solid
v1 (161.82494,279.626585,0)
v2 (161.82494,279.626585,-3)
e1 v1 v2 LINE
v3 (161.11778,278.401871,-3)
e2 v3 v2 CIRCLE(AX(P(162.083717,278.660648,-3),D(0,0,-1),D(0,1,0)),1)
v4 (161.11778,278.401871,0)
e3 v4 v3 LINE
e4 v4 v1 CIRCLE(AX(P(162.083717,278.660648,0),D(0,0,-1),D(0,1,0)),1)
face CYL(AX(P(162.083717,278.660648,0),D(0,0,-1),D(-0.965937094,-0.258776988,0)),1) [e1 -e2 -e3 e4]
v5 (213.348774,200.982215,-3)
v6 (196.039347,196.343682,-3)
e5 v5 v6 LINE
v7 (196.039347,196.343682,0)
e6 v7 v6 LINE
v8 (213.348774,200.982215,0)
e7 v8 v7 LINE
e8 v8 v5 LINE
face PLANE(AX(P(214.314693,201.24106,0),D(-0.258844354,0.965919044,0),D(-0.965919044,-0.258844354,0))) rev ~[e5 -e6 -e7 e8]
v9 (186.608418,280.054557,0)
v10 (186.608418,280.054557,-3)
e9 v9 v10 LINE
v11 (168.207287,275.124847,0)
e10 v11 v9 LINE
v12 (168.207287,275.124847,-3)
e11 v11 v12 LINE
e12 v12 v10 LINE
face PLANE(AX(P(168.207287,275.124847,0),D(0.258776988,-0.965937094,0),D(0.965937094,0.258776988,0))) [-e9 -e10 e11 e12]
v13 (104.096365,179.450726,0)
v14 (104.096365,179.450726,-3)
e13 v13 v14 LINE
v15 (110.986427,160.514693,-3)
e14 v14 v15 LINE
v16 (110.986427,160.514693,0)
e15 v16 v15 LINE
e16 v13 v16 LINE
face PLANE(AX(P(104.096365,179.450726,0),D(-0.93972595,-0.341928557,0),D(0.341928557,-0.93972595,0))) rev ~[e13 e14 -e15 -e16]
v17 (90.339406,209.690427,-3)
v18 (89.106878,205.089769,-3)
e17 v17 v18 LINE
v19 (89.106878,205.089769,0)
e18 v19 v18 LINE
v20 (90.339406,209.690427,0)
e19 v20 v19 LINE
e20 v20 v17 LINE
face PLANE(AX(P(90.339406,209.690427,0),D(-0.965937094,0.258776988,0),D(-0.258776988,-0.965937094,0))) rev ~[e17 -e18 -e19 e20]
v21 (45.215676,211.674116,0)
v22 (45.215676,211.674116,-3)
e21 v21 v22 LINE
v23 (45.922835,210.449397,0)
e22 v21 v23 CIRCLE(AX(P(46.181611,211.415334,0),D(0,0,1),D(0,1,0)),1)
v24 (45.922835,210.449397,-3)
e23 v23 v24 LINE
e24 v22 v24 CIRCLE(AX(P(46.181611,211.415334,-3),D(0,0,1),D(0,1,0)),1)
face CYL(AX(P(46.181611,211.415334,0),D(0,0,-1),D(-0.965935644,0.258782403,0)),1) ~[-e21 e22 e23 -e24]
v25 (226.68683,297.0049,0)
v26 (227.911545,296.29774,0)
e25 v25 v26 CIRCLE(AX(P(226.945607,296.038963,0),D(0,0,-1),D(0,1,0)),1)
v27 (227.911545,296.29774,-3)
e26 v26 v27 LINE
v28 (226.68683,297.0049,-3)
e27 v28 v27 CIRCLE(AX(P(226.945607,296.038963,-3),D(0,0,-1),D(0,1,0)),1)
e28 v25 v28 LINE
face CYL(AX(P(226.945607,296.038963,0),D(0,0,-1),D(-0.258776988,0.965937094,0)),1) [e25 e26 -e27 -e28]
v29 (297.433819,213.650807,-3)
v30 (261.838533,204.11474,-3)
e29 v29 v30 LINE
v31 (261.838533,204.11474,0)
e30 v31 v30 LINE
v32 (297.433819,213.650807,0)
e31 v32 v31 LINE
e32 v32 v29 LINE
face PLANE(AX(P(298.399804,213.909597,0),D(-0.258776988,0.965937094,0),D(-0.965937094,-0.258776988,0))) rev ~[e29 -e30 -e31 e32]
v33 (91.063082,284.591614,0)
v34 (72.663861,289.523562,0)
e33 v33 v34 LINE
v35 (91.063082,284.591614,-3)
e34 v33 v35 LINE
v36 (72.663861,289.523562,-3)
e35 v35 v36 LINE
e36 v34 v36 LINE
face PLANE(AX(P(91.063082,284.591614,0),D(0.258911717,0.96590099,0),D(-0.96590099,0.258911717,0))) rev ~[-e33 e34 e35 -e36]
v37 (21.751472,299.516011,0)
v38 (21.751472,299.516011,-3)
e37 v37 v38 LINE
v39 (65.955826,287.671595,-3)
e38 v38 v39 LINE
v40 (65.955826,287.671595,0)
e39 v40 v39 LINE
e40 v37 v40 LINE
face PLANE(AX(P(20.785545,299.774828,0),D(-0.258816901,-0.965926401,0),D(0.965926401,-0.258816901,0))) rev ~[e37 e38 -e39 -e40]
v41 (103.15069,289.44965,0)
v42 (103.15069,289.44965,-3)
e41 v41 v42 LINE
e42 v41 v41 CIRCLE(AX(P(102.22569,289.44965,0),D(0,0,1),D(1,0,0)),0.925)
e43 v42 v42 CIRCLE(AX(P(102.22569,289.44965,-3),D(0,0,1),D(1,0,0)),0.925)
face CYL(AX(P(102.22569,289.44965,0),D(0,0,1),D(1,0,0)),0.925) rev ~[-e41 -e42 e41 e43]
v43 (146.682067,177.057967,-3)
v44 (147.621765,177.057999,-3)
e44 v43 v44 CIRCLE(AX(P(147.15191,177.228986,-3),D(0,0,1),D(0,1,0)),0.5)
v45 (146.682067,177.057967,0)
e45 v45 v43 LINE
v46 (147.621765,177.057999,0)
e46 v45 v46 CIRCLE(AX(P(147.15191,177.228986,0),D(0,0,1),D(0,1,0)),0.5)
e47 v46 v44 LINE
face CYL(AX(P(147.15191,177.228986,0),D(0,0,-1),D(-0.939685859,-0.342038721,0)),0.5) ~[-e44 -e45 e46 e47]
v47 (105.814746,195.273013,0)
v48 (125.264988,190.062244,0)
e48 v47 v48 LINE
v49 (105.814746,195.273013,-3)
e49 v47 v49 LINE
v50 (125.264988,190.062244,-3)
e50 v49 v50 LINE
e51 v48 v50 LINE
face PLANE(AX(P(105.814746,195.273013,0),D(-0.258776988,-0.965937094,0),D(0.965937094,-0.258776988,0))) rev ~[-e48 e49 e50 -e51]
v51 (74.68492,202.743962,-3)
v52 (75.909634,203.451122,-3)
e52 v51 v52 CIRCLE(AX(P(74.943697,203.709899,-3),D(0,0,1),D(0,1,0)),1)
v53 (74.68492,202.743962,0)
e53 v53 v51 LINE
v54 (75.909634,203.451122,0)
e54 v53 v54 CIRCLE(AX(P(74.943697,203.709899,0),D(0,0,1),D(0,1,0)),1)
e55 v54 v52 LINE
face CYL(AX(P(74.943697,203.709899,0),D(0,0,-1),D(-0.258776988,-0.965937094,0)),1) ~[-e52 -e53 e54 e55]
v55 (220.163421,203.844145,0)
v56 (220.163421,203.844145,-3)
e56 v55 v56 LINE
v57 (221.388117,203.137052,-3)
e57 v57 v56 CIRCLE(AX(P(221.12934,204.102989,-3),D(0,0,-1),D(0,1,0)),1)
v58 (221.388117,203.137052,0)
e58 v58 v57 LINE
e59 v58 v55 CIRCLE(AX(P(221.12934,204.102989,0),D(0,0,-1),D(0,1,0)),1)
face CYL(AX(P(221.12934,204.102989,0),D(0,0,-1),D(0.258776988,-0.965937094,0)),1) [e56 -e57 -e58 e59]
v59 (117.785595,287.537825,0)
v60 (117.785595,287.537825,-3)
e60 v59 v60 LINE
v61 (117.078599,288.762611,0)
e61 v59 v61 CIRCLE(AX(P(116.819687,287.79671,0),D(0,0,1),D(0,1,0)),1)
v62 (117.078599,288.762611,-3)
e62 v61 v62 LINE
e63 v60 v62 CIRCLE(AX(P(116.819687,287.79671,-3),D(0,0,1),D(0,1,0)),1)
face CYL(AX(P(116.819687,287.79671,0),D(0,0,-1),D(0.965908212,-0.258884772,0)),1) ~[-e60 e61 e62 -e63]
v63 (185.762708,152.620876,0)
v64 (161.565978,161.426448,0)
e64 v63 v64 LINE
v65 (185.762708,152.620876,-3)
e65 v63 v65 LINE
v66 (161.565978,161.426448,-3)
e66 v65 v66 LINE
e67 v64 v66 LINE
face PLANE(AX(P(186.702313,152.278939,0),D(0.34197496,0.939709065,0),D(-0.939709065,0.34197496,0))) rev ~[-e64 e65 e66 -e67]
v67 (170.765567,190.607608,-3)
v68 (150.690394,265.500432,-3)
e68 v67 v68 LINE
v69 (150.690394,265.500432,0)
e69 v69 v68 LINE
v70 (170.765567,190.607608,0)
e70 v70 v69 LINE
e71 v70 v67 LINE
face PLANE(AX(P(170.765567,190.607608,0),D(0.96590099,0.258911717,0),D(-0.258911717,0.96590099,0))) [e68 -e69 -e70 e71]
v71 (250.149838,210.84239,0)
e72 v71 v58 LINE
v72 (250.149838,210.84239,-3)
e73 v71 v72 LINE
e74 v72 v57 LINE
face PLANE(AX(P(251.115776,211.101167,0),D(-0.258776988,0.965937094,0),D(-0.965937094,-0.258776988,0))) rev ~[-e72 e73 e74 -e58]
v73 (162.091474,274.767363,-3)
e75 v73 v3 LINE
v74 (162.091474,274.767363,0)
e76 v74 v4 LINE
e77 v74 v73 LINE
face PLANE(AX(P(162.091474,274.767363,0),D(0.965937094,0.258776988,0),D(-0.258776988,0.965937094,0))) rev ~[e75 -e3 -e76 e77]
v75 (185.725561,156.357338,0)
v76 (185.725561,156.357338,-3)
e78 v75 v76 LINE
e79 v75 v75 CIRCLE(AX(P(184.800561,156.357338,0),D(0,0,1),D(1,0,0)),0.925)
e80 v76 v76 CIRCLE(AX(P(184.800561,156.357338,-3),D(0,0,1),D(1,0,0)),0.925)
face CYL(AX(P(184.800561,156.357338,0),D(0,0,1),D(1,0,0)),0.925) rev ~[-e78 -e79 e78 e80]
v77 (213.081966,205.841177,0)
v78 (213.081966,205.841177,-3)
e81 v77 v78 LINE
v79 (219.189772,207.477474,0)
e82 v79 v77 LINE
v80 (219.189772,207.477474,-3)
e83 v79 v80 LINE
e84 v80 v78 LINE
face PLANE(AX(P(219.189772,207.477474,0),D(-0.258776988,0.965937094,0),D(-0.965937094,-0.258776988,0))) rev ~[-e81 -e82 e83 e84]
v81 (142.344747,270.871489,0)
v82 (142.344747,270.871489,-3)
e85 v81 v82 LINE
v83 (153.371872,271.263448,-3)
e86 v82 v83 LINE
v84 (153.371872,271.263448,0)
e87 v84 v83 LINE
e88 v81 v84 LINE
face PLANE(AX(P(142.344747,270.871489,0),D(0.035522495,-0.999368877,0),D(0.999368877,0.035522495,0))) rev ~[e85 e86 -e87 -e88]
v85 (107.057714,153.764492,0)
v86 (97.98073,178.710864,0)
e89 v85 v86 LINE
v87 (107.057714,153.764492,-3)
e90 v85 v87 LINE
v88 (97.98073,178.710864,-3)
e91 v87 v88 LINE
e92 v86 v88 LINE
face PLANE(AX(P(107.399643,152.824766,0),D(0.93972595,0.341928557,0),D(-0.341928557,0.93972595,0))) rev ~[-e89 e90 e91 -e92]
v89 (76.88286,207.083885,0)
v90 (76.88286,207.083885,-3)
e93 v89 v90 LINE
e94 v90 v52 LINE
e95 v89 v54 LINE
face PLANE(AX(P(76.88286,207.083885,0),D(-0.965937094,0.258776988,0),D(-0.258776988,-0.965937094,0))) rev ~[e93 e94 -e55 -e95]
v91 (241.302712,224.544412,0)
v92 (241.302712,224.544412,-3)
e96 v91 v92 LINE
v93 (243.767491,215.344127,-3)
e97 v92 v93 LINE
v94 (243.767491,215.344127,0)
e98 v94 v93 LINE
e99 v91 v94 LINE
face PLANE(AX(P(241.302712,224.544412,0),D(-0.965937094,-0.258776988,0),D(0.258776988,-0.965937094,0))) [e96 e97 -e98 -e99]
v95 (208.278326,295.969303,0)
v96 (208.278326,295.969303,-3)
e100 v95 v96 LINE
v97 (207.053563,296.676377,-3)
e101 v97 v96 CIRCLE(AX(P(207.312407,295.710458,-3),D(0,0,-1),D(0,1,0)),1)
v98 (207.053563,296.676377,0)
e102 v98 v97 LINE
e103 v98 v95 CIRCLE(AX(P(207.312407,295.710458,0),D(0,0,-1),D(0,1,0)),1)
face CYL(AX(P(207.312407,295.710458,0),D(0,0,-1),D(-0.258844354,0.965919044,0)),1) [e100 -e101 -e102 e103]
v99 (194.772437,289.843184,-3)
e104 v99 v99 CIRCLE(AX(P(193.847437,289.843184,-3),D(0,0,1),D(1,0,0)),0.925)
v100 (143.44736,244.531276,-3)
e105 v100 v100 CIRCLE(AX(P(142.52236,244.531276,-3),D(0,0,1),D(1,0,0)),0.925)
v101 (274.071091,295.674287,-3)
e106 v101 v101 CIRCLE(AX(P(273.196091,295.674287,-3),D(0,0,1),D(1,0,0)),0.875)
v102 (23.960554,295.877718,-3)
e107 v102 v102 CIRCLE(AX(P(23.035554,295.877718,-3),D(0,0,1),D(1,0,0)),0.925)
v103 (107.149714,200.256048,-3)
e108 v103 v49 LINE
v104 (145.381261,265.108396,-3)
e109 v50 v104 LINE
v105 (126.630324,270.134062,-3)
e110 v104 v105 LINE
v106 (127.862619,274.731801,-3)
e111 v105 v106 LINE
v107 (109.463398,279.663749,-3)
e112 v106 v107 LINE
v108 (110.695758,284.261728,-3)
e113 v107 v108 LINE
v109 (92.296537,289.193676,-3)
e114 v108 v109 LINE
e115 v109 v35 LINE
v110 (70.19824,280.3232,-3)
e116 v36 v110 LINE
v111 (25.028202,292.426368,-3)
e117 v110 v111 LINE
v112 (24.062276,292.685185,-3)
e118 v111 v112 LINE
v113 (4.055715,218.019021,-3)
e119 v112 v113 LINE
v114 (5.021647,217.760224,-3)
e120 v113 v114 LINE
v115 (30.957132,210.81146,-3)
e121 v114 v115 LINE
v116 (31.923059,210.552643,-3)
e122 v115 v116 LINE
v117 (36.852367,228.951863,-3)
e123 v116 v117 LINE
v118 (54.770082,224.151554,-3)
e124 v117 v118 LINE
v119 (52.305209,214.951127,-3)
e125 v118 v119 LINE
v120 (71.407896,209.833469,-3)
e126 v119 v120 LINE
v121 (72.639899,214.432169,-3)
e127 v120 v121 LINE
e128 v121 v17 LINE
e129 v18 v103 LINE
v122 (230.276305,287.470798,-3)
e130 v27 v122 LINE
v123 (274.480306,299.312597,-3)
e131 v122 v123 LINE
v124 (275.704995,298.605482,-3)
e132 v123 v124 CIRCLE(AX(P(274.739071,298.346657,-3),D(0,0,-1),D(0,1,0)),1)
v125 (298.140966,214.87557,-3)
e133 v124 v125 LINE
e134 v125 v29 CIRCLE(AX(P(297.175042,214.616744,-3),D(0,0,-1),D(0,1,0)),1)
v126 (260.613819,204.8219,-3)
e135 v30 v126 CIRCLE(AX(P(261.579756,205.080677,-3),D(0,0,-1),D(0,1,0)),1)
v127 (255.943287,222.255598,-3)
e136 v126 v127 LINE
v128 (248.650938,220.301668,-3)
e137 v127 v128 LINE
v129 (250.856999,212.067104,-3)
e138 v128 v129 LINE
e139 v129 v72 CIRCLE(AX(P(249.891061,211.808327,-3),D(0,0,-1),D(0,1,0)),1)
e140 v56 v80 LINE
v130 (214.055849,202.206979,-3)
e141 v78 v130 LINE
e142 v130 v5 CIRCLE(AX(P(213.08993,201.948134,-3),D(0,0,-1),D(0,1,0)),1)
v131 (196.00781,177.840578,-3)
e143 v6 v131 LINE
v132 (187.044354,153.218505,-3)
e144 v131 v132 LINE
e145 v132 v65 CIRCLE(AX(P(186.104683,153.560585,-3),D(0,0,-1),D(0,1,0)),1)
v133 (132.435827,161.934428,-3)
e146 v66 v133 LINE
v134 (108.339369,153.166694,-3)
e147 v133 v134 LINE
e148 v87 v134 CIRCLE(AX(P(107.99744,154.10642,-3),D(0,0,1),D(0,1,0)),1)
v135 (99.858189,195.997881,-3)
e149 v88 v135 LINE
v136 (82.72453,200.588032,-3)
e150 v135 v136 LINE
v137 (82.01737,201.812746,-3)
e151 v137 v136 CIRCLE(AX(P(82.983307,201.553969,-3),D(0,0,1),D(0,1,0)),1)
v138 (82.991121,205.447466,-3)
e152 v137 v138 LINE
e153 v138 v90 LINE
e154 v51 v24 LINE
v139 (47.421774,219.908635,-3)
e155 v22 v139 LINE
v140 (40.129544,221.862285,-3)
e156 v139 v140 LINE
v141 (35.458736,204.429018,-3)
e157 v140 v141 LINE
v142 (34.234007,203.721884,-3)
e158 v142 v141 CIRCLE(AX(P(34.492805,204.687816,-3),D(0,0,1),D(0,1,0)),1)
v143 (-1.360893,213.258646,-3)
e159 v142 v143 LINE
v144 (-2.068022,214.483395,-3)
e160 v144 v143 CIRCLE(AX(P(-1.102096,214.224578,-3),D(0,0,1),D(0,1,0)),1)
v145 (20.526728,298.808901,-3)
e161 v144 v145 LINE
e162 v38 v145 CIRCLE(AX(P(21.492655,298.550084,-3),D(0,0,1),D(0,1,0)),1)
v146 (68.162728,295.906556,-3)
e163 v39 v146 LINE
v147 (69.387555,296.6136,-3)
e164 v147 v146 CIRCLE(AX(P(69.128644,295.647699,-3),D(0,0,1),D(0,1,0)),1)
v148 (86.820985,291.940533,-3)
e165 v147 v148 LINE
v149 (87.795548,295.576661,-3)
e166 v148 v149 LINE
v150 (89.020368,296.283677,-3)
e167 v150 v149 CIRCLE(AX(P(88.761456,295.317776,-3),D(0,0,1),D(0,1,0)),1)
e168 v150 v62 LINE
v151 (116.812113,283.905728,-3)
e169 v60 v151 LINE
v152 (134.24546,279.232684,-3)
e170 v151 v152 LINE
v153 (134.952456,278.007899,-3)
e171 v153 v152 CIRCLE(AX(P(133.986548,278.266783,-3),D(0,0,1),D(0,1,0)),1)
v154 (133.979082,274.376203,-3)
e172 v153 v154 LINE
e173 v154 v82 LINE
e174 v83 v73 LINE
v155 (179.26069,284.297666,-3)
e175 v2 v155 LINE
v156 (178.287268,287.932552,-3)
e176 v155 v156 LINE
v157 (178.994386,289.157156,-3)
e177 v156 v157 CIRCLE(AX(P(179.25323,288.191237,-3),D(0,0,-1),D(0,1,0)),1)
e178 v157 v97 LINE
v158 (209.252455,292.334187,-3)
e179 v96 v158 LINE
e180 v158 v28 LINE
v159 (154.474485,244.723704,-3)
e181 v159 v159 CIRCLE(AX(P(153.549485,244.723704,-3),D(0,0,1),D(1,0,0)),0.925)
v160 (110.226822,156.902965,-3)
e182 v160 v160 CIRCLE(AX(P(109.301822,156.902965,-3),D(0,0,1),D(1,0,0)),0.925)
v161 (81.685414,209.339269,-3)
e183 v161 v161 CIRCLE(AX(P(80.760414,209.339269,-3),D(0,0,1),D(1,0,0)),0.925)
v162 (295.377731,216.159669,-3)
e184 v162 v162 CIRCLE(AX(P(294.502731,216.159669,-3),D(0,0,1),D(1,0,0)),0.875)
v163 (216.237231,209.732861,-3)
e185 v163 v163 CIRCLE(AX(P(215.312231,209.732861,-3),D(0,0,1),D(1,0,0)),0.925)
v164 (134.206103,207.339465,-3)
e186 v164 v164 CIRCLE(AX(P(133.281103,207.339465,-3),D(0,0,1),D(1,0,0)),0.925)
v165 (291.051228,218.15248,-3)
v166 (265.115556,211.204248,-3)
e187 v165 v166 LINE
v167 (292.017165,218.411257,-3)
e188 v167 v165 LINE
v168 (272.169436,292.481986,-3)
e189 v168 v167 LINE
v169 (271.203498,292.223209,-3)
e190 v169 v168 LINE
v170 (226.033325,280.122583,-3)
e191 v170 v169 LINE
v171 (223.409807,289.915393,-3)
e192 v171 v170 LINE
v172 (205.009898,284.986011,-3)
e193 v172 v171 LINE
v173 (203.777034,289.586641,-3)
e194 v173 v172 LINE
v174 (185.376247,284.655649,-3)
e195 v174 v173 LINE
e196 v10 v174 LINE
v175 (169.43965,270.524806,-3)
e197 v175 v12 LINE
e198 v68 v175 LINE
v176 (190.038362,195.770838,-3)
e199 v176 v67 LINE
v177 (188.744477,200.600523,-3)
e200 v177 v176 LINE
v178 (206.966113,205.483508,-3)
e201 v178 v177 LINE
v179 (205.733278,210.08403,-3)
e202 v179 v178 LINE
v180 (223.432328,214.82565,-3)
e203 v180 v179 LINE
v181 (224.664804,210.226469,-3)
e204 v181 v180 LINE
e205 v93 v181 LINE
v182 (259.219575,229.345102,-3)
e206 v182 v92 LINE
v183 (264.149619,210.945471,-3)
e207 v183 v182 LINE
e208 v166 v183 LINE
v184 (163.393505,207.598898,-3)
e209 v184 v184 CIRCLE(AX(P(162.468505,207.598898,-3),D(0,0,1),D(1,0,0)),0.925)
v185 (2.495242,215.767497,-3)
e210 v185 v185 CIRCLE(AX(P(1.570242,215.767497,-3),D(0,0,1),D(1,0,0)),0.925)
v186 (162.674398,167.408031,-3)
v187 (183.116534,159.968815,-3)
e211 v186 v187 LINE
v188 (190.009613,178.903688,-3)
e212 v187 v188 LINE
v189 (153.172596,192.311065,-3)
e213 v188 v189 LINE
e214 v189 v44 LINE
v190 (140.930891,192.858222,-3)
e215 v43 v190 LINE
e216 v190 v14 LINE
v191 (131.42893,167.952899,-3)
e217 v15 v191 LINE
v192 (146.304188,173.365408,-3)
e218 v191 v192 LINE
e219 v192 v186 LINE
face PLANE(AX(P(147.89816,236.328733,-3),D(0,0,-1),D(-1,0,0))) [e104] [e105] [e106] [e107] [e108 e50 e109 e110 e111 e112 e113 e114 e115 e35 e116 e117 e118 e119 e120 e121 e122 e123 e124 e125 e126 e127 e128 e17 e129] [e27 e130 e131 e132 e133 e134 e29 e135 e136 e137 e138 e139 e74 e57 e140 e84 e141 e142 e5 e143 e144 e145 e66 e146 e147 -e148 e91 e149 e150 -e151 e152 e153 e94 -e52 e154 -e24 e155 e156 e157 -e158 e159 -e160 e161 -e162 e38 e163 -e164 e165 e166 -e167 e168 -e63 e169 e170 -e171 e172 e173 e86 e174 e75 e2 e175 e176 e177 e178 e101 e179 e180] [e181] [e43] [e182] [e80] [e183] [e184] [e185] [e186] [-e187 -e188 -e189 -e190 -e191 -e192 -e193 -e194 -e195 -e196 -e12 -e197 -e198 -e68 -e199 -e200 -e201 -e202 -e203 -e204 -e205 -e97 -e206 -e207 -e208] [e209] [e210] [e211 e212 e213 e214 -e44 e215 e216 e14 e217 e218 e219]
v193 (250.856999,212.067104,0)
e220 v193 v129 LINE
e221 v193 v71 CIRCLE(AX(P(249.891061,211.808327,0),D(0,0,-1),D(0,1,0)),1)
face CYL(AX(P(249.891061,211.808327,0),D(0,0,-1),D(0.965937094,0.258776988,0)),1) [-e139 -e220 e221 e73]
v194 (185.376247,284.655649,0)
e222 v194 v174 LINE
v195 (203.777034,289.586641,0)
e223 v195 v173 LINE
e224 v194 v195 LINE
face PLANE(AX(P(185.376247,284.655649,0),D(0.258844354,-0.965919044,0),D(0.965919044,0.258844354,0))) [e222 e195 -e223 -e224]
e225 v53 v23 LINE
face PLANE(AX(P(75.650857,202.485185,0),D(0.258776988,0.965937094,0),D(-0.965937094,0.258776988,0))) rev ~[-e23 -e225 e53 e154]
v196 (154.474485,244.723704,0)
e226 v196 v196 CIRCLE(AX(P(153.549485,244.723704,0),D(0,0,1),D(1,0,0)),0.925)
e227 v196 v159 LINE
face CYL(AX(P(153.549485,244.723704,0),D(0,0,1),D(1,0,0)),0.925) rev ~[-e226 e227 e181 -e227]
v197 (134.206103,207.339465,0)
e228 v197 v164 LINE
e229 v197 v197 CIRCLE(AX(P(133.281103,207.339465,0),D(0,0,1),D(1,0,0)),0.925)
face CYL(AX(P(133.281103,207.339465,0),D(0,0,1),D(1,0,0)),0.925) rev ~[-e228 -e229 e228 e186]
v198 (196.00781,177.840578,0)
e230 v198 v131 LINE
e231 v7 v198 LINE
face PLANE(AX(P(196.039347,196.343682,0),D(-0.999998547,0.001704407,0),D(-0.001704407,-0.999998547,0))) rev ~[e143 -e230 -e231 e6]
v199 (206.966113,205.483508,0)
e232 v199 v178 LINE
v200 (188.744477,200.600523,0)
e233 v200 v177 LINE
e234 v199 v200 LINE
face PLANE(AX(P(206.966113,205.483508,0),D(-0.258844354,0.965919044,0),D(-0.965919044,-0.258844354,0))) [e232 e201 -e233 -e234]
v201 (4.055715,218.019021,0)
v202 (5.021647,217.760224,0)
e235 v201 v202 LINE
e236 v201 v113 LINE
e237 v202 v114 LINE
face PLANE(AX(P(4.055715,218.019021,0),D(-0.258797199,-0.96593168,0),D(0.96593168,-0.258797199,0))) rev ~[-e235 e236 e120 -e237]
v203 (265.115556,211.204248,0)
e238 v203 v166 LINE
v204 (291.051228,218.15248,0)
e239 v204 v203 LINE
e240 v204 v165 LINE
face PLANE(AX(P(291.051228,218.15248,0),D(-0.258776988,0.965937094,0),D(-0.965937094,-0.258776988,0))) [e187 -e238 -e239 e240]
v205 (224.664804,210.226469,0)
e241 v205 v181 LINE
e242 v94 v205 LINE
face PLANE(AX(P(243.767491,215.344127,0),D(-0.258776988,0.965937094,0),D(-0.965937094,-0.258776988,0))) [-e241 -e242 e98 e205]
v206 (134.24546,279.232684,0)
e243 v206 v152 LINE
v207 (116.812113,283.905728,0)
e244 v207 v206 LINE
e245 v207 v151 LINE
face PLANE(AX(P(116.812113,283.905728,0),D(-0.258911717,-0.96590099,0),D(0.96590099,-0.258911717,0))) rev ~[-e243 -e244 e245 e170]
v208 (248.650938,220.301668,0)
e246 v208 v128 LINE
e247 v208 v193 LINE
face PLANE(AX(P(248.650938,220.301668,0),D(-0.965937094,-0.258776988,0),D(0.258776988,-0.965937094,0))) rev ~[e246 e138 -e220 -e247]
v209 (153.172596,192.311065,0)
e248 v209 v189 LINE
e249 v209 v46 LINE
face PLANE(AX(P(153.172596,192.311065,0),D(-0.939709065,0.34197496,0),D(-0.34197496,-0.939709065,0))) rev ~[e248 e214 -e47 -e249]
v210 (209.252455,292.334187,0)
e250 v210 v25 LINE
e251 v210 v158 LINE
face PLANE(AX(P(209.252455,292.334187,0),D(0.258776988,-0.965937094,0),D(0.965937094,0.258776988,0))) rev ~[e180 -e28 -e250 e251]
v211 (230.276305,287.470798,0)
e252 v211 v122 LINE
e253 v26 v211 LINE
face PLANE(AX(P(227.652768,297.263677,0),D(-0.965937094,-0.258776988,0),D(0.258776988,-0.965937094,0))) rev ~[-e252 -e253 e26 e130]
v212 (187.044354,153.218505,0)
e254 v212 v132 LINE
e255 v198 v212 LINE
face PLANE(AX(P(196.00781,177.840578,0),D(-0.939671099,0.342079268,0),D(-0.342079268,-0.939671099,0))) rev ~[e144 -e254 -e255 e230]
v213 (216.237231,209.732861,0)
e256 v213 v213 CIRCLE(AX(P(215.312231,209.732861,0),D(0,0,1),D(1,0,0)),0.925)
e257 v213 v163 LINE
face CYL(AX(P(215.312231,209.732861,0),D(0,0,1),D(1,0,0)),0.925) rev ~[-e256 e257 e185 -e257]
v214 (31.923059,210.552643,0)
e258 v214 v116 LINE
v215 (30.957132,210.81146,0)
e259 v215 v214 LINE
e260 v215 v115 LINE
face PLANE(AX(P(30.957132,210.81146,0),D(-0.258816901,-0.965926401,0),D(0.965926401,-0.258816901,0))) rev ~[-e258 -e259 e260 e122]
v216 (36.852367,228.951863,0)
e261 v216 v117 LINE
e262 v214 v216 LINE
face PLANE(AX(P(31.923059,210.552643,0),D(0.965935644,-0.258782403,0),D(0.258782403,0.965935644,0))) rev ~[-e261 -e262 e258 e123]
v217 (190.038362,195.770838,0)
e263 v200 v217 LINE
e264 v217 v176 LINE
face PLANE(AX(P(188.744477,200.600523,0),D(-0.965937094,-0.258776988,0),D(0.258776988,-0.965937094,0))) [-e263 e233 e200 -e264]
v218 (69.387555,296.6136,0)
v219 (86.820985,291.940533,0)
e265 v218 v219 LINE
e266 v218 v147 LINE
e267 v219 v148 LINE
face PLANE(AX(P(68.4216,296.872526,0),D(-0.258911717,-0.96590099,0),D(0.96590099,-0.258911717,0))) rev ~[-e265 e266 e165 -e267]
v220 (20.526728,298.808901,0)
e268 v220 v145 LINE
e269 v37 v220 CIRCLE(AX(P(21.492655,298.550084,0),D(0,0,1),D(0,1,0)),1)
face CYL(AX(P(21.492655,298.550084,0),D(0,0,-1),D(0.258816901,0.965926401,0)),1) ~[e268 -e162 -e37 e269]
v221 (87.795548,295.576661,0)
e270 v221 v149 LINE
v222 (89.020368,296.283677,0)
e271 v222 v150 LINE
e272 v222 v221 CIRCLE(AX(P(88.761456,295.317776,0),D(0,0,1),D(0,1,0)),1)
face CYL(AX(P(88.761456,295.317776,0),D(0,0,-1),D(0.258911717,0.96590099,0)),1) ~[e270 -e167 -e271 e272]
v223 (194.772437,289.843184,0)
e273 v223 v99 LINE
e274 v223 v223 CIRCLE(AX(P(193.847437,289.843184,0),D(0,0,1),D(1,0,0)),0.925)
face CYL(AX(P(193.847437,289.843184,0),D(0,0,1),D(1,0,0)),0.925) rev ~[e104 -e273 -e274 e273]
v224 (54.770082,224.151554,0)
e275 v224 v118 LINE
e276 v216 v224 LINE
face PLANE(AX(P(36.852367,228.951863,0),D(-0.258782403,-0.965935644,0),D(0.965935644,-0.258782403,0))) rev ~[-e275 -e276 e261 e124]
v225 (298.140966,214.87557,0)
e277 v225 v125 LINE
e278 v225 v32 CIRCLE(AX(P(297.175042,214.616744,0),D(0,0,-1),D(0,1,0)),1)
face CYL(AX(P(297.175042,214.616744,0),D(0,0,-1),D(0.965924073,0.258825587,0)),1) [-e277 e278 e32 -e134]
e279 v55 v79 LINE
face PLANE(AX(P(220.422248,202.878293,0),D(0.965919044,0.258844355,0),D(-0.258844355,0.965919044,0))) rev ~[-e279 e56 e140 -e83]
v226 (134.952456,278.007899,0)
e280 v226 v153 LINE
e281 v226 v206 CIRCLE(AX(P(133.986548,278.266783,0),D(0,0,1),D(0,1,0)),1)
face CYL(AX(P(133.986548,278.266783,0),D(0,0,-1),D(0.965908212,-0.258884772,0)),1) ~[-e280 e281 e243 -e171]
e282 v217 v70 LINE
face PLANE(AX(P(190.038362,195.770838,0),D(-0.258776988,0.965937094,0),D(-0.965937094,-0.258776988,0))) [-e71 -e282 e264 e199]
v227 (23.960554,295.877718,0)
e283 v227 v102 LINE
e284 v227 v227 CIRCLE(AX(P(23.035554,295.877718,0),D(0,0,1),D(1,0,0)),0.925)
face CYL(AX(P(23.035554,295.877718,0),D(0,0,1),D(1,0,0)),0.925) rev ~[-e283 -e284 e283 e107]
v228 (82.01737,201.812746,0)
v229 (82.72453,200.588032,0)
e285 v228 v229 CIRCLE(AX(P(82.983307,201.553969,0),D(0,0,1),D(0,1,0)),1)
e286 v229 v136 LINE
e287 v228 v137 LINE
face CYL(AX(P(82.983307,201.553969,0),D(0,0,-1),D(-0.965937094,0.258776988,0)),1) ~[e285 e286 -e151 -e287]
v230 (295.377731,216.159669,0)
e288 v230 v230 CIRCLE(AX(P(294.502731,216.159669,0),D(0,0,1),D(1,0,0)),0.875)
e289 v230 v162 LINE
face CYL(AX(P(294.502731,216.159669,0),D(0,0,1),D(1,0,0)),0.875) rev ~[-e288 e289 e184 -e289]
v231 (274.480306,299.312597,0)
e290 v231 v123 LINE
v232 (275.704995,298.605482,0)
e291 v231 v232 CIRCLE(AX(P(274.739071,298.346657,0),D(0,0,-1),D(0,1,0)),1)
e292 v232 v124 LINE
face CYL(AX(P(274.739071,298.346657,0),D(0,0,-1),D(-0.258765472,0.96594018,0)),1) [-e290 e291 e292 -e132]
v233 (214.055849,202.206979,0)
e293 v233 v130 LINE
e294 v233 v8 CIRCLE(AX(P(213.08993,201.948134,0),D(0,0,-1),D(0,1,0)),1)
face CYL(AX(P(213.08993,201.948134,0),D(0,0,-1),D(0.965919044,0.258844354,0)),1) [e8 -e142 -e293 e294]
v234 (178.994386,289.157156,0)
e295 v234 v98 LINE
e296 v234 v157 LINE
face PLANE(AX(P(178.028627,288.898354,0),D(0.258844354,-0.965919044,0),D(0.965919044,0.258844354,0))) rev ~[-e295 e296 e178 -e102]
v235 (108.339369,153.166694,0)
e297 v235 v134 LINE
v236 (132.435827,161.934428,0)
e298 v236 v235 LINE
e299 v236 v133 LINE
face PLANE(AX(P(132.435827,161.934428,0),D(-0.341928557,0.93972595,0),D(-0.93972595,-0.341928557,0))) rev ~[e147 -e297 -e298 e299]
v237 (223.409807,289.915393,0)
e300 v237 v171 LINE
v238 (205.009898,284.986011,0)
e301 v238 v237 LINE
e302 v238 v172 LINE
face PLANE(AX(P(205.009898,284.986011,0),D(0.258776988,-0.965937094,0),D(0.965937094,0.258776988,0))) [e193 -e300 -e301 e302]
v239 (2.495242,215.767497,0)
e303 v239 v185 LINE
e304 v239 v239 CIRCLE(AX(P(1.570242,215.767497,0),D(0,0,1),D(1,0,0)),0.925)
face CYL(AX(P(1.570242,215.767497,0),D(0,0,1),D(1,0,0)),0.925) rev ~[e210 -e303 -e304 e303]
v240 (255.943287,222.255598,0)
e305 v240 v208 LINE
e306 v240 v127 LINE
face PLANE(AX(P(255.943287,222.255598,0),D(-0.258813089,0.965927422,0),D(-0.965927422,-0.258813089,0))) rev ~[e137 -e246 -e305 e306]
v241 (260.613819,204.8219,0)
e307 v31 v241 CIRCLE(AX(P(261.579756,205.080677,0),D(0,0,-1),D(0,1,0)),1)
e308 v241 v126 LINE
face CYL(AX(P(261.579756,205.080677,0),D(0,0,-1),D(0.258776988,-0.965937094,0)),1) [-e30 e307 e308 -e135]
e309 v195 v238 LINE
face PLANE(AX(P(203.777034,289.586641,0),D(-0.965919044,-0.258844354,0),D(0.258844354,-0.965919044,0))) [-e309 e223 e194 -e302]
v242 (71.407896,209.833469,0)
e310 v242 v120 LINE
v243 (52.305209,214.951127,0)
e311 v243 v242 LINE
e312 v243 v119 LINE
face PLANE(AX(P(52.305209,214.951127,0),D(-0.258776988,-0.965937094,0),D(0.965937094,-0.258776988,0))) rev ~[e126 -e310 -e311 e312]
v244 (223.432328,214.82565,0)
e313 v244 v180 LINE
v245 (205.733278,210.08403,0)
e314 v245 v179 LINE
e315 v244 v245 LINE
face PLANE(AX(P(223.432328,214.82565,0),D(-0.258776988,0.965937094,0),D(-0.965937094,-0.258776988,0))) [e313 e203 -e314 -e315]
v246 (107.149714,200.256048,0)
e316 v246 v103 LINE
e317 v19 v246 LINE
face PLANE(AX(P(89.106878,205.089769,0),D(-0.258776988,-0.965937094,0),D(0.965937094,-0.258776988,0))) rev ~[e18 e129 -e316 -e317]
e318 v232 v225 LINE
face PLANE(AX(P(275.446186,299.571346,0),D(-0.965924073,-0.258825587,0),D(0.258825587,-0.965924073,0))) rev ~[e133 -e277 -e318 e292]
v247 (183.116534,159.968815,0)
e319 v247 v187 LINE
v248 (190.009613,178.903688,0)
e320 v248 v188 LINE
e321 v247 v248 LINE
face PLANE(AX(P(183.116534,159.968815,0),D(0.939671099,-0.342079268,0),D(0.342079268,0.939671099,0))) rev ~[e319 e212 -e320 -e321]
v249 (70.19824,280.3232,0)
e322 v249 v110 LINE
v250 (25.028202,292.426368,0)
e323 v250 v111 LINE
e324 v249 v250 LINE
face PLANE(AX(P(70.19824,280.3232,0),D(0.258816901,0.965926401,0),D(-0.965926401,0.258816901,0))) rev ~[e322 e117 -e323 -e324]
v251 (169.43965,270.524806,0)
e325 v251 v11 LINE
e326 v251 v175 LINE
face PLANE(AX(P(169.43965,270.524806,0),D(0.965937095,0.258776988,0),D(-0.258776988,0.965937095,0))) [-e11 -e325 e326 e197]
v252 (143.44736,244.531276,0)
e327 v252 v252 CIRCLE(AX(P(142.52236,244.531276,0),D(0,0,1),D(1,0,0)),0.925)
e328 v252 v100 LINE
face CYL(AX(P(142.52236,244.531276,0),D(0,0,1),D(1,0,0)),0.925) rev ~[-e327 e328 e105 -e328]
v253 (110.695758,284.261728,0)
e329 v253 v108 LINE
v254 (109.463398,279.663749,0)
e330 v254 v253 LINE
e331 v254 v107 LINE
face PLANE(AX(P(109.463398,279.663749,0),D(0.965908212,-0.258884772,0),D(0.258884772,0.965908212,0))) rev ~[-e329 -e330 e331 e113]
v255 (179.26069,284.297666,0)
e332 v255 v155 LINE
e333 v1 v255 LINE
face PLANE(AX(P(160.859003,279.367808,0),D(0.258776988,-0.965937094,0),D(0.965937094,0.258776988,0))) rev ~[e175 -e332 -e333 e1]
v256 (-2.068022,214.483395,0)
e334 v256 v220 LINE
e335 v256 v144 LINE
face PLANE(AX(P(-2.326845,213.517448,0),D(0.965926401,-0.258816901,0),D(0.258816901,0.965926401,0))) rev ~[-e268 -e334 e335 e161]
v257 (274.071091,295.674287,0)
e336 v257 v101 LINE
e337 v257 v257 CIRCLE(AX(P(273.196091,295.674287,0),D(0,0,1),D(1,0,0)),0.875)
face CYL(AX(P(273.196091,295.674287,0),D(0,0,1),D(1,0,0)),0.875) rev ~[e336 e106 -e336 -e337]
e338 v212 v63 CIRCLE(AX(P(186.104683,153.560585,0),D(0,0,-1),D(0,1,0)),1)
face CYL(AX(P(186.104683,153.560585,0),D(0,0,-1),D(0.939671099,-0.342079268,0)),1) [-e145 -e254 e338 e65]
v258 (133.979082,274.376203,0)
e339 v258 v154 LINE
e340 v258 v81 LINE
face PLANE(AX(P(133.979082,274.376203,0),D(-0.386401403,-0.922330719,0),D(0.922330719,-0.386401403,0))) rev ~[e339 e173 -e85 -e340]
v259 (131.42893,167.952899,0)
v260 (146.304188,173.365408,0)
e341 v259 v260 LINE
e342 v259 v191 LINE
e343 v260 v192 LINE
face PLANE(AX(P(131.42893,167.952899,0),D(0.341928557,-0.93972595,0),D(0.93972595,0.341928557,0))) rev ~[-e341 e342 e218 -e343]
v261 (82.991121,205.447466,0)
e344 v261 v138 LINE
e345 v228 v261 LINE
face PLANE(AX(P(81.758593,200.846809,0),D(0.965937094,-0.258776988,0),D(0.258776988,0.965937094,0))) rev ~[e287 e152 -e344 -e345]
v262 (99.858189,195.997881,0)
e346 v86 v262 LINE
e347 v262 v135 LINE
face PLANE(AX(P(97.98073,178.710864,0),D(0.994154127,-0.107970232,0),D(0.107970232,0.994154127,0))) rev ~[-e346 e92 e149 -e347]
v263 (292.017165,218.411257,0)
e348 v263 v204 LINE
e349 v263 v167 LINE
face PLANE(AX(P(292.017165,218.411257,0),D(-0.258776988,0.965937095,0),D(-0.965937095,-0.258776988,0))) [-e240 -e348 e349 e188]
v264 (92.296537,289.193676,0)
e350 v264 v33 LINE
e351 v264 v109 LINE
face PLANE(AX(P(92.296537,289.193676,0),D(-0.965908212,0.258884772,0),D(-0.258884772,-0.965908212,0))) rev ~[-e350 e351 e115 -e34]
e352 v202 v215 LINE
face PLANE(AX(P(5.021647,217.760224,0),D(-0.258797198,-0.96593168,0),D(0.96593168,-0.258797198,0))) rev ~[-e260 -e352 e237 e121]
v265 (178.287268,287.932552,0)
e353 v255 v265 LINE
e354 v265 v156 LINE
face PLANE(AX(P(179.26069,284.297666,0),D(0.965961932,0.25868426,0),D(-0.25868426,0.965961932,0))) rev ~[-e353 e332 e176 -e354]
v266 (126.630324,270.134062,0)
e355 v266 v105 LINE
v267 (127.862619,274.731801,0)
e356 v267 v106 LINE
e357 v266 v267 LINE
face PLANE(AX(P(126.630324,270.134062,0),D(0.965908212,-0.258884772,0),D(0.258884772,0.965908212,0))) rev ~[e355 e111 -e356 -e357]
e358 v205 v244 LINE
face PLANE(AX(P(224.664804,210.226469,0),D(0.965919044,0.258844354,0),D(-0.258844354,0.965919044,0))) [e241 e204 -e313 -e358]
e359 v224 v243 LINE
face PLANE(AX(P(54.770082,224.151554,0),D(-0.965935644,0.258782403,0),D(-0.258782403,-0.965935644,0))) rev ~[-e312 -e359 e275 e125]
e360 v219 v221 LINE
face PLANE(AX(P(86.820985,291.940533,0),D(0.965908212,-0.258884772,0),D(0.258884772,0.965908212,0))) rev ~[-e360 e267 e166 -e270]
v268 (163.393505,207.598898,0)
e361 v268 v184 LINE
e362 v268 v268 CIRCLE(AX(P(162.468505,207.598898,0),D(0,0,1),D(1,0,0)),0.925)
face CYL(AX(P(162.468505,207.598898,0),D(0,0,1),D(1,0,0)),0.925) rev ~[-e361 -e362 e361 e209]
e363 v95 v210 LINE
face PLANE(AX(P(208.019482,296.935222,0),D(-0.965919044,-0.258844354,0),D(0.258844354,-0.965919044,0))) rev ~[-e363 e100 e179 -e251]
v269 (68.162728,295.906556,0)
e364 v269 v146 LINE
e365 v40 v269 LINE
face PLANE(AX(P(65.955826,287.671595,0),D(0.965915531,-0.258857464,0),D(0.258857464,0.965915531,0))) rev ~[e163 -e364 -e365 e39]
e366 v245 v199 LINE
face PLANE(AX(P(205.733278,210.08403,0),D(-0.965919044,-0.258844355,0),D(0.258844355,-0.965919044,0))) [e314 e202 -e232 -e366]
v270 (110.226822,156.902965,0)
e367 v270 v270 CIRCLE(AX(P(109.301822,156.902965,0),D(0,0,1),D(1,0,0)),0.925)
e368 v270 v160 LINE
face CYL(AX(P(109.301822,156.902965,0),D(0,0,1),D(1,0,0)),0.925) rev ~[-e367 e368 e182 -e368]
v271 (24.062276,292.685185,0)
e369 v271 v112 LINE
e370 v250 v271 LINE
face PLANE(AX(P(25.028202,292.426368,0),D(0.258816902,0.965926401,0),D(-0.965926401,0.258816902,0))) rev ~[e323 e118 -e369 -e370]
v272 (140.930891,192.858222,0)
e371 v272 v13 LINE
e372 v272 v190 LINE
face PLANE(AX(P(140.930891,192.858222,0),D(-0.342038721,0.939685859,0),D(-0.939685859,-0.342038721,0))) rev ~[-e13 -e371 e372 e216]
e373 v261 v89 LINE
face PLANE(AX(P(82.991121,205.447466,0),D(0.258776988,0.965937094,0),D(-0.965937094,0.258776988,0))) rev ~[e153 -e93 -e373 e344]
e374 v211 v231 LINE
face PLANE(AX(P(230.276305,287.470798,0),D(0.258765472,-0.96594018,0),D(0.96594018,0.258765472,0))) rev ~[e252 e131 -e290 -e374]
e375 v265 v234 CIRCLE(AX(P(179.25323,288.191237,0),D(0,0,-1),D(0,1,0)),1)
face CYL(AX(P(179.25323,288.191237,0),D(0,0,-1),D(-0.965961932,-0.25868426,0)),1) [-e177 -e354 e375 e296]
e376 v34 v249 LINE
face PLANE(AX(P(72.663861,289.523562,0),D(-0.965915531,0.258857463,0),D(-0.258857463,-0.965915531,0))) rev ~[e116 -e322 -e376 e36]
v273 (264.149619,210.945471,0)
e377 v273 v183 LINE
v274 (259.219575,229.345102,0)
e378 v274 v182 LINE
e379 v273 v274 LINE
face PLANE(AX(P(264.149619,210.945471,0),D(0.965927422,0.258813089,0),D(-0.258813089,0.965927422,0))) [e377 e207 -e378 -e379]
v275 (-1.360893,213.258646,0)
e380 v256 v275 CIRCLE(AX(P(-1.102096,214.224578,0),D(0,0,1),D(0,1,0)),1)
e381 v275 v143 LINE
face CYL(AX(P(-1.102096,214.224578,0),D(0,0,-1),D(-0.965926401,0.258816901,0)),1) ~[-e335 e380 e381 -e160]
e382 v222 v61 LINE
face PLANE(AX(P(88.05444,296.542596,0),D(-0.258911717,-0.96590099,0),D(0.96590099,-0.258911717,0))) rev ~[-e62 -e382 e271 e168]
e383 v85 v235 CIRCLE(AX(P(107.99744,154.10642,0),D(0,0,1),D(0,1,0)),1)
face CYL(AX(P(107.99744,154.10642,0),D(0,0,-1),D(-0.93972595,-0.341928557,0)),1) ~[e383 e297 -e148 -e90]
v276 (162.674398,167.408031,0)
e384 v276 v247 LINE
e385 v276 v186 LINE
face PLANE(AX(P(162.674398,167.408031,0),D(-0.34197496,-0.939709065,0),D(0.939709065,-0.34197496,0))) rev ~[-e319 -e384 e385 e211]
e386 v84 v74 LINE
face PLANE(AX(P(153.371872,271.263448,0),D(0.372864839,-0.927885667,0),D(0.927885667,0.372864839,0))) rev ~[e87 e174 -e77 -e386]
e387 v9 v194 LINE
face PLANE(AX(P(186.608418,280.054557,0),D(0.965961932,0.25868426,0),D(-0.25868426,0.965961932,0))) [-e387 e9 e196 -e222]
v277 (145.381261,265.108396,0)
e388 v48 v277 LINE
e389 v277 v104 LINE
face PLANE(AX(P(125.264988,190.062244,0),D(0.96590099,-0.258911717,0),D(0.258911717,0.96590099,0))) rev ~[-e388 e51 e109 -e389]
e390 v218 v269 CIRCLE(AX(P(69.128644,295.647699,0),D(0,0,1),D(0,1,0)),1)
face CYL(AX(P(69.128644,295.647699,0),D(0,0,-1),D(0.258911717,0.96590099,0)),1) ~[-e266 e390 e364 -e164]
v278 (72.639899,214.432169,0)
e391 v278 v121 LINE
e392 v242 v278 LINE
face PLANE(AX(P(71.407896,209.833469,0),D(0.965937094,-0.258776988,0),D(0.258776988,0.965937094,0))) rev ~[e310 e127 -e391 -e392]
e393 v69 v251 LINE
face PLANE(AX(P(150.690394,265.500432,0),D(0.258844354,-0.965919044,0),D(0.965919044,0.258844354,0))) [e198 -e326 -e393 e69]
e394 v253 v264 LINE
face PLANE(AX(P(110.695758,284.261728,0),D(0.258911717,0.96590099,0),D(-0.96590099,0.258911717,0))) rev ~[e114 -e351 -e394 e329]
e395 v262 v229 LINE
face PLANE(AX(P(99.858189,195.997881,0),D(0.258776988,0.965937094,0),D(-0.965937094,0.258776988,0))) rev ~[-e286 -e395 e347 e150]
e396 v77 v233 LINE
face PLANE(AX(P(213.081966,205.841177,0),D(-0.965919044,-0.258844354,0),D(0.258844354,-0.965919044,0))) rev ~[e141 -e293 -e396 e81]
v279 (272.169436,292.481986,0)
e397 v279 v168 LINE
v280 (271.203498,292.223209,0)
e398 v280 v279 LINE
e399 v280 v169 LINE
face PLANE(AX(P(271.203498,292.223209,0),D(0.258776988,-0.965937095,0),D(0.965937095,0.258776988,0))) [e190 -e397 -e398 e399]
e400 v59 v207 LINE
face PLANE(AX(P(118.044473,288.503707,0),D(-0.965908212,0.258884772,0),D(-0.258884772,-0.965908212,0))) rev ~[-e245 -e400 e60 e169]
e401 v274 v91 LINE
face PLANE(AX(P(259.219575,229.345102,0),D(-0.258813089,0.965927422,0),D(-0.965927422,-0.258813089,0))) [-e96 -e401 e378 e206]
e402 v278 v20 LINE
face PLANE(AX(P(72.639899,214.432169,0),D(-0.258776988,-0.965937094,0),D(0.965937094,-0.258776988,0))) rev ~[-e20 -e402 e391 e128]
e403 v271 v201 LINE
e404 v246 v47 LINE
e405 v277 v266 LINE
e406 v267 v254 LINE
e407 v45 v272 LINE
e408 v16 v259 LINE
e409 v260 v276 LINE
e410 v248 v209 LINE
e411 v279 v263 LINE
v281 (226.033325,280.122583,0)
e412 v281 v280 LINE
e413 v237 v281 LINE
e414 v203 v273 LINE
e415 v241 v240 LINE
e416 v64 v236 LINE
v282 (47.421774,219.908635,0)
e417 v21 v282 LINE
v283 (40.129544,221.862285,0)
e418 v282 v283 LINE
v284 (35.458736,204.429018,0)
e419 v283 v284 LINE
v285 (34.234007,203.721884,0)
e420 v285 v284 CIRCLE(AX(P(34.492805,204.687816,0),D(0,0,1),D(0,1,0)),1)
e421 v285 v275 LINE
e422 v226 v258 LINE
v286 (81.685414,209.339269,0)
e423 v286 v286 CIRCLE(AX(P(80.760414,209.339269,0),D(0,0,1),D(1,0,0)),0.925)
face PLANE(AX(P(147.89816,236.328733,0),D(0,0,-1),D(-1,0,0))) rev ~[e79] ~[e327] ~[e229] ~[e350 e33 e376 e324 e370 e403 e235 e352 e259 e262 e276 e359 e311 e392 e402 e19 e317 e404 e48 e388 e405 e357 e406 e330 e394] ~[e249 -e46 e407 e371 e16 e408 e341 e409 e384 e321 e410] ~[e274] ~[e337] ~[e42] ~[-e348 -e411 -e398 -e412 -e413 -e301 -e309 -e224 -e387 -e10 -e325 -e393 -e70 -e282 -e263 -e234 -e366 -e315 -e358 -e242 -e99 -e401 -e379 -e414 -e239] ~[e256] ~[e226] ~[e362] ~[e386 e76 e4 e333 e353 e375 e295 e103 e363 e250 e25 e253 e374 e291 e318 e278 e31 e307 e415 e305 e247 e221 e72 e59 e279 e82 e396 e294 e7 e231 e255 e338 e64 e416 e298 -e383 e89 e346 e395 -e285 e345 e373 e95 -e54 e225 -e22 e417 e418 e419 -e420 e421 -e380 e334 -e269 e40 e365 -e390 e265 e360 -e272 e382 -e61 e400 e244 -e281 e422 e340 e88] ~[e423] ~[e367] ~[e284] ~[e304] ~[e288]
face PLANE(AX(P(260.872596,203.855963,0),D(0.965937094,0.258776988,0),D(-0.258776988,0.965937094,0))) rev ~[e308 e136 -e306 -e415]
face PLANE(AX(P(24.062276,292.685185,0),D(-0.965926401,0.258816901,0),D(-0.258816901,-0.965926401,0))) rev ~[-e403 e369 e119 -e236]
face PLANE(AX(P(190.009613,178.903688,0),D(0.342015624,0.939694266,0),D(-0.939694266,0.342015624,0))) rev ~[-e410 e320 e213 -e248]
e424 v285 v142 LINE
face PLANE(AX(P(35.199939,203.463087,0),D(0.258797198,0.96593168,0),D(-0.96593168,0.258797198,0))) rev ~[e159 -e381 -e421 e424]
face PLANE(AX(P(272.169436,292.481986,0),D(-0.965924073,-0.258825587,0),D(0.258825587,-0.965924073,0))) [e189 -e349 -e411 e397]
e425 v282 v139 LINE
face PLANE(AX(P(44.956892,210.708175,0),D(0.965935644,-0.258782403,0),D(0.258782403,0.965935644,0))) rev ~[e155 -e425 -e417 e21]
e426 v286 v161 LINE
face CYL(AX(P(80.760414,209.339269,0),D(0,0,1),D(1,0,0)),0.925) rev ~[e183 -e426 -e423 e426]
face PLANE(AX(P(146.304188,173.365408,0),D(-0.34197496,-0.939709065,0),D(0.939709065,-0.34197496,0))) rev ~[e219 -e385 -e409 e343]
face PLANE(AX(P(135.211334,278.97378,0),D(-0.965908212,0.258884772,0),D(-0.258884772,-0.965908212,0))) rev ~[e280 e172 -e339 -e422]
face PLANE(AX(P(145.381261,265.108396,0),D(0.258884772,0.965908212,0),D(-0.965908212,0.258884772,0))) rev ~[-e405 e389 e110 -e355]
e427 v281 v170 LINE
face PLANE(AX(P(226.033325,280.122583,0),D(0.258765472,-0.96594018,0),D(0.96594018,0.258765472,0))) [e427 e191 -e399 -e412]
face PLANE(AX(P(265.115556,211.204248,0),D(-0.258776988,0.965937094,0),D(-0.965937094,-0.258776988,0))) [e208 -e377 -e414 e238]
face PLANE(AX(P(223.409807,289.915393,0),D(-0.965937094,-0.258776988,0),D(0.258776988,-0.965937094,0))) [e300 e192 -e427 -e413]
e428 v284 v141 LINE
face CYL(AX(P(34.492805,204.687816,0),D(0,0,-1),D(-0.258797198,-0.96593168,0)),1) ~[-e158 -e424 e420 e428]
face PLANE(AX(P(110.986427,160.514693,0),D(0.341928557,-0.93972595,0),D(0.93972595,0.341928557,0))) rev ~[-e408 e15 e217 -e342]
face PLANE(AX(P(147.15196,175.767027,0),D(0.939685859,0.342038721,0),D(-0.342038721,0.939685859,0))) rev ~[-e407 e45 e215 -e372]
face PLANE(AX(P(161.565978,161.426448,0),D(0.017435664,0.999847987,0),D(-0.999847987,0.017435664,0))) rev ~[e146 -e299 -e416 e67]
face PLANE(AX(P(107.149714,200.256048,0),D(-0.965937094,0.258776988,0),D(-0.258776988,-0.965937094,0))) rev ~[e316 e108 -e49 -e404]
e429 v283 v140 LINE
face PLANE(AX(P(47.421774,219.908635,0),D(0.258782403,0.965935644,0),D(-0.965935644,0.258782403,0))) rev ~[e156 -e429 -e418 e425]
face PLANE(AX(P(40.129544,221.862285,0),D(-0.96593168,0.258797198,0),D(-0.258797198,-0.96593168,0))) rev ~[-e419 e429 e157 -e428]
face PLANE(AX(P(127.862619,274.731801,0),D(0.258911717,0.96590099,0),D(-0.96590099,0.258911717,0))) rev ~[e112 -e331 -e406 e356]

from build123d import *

# Parameters (mm, degrees)
MODEL_R             = 0.925
MODEL_R_2           = 0.875
BOSS_EXTRUDE1_DEPTH = 3
FILLET2_R           = 0.5
FILLET3_R           = 1


with BuildPart() as part:
    # Model → Boss-Extrude1 (new body)
    with BuildSketch(Plane.XY):
        Polygon((142.344747242, 270.871489374), (153.37187249, 271.263447748), (162.091473536, 274.767362889), (160.85900272, 279.367807803), (179.260689602, 284.297666211), (178.028627015, 288.898354165), (208.019481767, 296.93522173), (209.252454514, 292.334187025), (227.65276755, 297.263677376), (230.276304619, 287.470798216), (275.446186014, 299.571346393), (298.39980436, 213.909597233), (260.87259576, 203.855963236), (255.943287021, 222.255598366), (248.650938057, 220.301667543), (251.115775513, 211.101166572), (220.422247557, 202.878292884), (219.189771603, 207.477473721), (213.081966369, 205.841177268), (214.314693354, 201.241059665), (196.039346948, 196.343682115), (196.007810089, 177.840578221), (186.702312667, 152.27893851), (161.565977706, 161.426447529), (132.435827139, 161.934428279), (107.399642776, 152.824765622), (97.980730454, 178.710864183), (99.858189105, 195.997881416), (81.758593313, 200.846808858), (82.991121062, 205.447466285), (76.882860045, 207.083884844), (75.650856625, 202.485184579), (44.956891994, 210.708175253), (47.421773629, 219.90863481), (40.129543563, 221.862285479), (35.199939127, 203.463086712), (-2.32684459, 213.517448416), (20.785545351, 299.774827661), (65.955825932, 287.671594898), (68.42160019, 296.872525865), (86.820985153, 291.940533454), (88.054439652, 296.542595671), (118.044472643, 288.503706576), (116.812112756, 283.905728394), (135.211333861, 278.973779905), (133.979081507, 274.376202933), align=None)
        with Locations((23.035554, 295.877718337)):
            Circle(MODEL_R, mode=Mode.SUBTRACT)
        with Locations((109.301822433, 156.902965293)):
            Circle(MODEL_R, mode=Mode.SUBTRACT)
        with Locations((184.800560745, 156.35733766)):
            Circle(MODEL_R, mode=Mode.SUBTRACT)
        with Locations((193.847437398, 289.84318413)):
            Circle(MODEL_R, mode=Mode.SUBTRACT)
        with Locations((102.225689846, 289.449650012)):
            Circle(MODEL_R, mode=Mode.SUBTRACT)
        with Locations((273.19609114, 295.674286852)):
            Circle(MODEL_R_2, mode=Mode.SUBTRACT)
        with Locations((1.570241786, 215.767496811)):
            Circle(MODEL_R, mode=Mode.SUBTRACT)
        with Locations((294.502731407, 216.159668876)):
            Circle(MODEL_R_2, mode=Mode.SUBTRACT)
        with Locations((80.760413887, 209.339268578)):
            Circle(MODEL_R, mode=Mode.SUBTRACT)
        with Locations((215.312231294, 209.732861073)):
            Circle(MODEL_R, mode=Mode.SUBTRACT)
        with Locations((133.281102646, 207.339464548)):
            Circle(MODEL_R, mode=Mode.SUBTRACT)
        with Locations((162.46850521, 207.598897954)):
            Circle(MODEL_R, mode=Mode.SUBTRACT)
        with Locations((142.522359716, 244.531276159)):
            Circle(MODEL_R, mode=Mode.SUBTRACT)
        with Locations((153.549484965, 244.723703681)):
            Circle(MODEL_R, mode=Mode.SUBTRACT)
        Polygon((241.30271159, 224.544411578), (243.767491017, 215.34412721), (224.664804007, 210.226469096), (223.432328054, 214.825649934), (205.733277658, 210.084029615), (206.966112962, 205.483507804), (188.744476932, 200.600523414), (190.038361872, 195.770837942), (170.765567452, 190.607607624), (150.690394167, 265.500431998), (169.439649748, 270.524806438), (168.207287216, 275.124847165), (186.60841776, 280.054556529), (185.376246939, 284.655648642), (203.777033628, 289.586641337), (205.009898064, 284.986010813), (223.409806911, 289.915392881), (226.033325469, 280.122582817), (271.203498451, 292.223209107), (272.169435546, 292.481986095), (292.017165355, 218.411256738), (291.05122826, 218.15247975), (265.115556398, 211.204247731), (264.149619304, 210.945470743), (259.219574531, 229.345102127), align=None, mode=Mode.SUBTRACT)
        Polygon((91.063082461, 284.591613875), (72.663861356, 289.523562363), (70.198239559, 280.323200295), (25.028202346, 292.426367848), (24.062275945, 292.68518475), (4.05571522, 218.019020829), (5.0216469, 217.76022363), (30.957132238, 210.811459981), (31.923058639, 210.55264308), (36.852366702, 228.951863077), (54.770081908, 224.151554257), (52.305208977, 214.951127188), (71.407895987, 209.833469074), (72.639899407, 214.432169339), (90.339405557, 209.690426923), (89.106877808, 205.089769496), (107.149713912, 200.256048118), (105.814746135, 195.273012707), (125.26498777, 190.062243831), (145.381260936, 265.108396206), (126.630323598, 270.134062294), (127.862619282, 274.731800932), (109.463398178, 279.663749421), (110.695758065, 284.261727603), (92.29653696, 289.193676092), align=None, mode=Mode.SUBTRACT)
        Polygon((104.096364698, 179.45072575), (110.986427135, 160.514692668), (131.428930231, 167.95289908), (146.304188304, 173.365408471), (162.674398087, 167.40803076), (183.116533861, 159.968814913), (190.009613349, 178.903688177), (153.172596304, 192.31106529), (147.151959777, 175.767027333), (140.930891121, 192.858221652), align=None, mode=Mode.SUBTRACT)
    extrude(amount=-BOSS_EXTRUDE1_DEPTH)

    # Fillet2
    fillet2_edges = [part.edges().sort_by_distance(p)[0] for p in [
        (147.151959777, 175.767027333, -1.5),
    ]]
    fillet(fillet2_edges, radius=FILLET2_R)

    # Fillet3
    fillet3_edges = [part.edges().sort_by_distance(p)[0] for p in [
        (-2.32684459, 213.517448416, -1.5),
        (20.785545351, 299.774827661, -1.5),
        (68.42160019, 296.872525865, -1.5),
        (88.054439652, 296.542595671, -1.5),
        (118.044472643, 288.503706576, -1.5),
        (135.211333861, 278.973779905, -1.5),
        (160.85900272, 279.367807803, -1.5),
        (178.028627015, 288.898354165, -1.5),
        (208.019481767, 296.93522173, -1.5),
        (227.65276755, 297.263677376, -1.5),
        (275.446186014, 299.571346393, -1.5),
        (298.39980436, 213.909597233, -1.5),
        (260.87259576, 203.855963236, -1.5),
        (251.115775513, 211.101166572, -1.5),
        (220.422247557, 202.878292884, -1.5),
        (214.314693354, 201.241059665, -1.5),
        (186.702312667, 152.27893851, -1.5),
        (107.399642776, 152.824765622, -1.5),
        (81.758593313, 200.846808858, -1.5),
        (75.650856625, 202.485184579, -1.5),
        (44.956891994, 210.708175253, -1.5),
        (35.199939127, 203.463086712, -1.5),
    ]]
    fillet(fillet3_edges, radius=FILLET3_R)


solid = part.part
